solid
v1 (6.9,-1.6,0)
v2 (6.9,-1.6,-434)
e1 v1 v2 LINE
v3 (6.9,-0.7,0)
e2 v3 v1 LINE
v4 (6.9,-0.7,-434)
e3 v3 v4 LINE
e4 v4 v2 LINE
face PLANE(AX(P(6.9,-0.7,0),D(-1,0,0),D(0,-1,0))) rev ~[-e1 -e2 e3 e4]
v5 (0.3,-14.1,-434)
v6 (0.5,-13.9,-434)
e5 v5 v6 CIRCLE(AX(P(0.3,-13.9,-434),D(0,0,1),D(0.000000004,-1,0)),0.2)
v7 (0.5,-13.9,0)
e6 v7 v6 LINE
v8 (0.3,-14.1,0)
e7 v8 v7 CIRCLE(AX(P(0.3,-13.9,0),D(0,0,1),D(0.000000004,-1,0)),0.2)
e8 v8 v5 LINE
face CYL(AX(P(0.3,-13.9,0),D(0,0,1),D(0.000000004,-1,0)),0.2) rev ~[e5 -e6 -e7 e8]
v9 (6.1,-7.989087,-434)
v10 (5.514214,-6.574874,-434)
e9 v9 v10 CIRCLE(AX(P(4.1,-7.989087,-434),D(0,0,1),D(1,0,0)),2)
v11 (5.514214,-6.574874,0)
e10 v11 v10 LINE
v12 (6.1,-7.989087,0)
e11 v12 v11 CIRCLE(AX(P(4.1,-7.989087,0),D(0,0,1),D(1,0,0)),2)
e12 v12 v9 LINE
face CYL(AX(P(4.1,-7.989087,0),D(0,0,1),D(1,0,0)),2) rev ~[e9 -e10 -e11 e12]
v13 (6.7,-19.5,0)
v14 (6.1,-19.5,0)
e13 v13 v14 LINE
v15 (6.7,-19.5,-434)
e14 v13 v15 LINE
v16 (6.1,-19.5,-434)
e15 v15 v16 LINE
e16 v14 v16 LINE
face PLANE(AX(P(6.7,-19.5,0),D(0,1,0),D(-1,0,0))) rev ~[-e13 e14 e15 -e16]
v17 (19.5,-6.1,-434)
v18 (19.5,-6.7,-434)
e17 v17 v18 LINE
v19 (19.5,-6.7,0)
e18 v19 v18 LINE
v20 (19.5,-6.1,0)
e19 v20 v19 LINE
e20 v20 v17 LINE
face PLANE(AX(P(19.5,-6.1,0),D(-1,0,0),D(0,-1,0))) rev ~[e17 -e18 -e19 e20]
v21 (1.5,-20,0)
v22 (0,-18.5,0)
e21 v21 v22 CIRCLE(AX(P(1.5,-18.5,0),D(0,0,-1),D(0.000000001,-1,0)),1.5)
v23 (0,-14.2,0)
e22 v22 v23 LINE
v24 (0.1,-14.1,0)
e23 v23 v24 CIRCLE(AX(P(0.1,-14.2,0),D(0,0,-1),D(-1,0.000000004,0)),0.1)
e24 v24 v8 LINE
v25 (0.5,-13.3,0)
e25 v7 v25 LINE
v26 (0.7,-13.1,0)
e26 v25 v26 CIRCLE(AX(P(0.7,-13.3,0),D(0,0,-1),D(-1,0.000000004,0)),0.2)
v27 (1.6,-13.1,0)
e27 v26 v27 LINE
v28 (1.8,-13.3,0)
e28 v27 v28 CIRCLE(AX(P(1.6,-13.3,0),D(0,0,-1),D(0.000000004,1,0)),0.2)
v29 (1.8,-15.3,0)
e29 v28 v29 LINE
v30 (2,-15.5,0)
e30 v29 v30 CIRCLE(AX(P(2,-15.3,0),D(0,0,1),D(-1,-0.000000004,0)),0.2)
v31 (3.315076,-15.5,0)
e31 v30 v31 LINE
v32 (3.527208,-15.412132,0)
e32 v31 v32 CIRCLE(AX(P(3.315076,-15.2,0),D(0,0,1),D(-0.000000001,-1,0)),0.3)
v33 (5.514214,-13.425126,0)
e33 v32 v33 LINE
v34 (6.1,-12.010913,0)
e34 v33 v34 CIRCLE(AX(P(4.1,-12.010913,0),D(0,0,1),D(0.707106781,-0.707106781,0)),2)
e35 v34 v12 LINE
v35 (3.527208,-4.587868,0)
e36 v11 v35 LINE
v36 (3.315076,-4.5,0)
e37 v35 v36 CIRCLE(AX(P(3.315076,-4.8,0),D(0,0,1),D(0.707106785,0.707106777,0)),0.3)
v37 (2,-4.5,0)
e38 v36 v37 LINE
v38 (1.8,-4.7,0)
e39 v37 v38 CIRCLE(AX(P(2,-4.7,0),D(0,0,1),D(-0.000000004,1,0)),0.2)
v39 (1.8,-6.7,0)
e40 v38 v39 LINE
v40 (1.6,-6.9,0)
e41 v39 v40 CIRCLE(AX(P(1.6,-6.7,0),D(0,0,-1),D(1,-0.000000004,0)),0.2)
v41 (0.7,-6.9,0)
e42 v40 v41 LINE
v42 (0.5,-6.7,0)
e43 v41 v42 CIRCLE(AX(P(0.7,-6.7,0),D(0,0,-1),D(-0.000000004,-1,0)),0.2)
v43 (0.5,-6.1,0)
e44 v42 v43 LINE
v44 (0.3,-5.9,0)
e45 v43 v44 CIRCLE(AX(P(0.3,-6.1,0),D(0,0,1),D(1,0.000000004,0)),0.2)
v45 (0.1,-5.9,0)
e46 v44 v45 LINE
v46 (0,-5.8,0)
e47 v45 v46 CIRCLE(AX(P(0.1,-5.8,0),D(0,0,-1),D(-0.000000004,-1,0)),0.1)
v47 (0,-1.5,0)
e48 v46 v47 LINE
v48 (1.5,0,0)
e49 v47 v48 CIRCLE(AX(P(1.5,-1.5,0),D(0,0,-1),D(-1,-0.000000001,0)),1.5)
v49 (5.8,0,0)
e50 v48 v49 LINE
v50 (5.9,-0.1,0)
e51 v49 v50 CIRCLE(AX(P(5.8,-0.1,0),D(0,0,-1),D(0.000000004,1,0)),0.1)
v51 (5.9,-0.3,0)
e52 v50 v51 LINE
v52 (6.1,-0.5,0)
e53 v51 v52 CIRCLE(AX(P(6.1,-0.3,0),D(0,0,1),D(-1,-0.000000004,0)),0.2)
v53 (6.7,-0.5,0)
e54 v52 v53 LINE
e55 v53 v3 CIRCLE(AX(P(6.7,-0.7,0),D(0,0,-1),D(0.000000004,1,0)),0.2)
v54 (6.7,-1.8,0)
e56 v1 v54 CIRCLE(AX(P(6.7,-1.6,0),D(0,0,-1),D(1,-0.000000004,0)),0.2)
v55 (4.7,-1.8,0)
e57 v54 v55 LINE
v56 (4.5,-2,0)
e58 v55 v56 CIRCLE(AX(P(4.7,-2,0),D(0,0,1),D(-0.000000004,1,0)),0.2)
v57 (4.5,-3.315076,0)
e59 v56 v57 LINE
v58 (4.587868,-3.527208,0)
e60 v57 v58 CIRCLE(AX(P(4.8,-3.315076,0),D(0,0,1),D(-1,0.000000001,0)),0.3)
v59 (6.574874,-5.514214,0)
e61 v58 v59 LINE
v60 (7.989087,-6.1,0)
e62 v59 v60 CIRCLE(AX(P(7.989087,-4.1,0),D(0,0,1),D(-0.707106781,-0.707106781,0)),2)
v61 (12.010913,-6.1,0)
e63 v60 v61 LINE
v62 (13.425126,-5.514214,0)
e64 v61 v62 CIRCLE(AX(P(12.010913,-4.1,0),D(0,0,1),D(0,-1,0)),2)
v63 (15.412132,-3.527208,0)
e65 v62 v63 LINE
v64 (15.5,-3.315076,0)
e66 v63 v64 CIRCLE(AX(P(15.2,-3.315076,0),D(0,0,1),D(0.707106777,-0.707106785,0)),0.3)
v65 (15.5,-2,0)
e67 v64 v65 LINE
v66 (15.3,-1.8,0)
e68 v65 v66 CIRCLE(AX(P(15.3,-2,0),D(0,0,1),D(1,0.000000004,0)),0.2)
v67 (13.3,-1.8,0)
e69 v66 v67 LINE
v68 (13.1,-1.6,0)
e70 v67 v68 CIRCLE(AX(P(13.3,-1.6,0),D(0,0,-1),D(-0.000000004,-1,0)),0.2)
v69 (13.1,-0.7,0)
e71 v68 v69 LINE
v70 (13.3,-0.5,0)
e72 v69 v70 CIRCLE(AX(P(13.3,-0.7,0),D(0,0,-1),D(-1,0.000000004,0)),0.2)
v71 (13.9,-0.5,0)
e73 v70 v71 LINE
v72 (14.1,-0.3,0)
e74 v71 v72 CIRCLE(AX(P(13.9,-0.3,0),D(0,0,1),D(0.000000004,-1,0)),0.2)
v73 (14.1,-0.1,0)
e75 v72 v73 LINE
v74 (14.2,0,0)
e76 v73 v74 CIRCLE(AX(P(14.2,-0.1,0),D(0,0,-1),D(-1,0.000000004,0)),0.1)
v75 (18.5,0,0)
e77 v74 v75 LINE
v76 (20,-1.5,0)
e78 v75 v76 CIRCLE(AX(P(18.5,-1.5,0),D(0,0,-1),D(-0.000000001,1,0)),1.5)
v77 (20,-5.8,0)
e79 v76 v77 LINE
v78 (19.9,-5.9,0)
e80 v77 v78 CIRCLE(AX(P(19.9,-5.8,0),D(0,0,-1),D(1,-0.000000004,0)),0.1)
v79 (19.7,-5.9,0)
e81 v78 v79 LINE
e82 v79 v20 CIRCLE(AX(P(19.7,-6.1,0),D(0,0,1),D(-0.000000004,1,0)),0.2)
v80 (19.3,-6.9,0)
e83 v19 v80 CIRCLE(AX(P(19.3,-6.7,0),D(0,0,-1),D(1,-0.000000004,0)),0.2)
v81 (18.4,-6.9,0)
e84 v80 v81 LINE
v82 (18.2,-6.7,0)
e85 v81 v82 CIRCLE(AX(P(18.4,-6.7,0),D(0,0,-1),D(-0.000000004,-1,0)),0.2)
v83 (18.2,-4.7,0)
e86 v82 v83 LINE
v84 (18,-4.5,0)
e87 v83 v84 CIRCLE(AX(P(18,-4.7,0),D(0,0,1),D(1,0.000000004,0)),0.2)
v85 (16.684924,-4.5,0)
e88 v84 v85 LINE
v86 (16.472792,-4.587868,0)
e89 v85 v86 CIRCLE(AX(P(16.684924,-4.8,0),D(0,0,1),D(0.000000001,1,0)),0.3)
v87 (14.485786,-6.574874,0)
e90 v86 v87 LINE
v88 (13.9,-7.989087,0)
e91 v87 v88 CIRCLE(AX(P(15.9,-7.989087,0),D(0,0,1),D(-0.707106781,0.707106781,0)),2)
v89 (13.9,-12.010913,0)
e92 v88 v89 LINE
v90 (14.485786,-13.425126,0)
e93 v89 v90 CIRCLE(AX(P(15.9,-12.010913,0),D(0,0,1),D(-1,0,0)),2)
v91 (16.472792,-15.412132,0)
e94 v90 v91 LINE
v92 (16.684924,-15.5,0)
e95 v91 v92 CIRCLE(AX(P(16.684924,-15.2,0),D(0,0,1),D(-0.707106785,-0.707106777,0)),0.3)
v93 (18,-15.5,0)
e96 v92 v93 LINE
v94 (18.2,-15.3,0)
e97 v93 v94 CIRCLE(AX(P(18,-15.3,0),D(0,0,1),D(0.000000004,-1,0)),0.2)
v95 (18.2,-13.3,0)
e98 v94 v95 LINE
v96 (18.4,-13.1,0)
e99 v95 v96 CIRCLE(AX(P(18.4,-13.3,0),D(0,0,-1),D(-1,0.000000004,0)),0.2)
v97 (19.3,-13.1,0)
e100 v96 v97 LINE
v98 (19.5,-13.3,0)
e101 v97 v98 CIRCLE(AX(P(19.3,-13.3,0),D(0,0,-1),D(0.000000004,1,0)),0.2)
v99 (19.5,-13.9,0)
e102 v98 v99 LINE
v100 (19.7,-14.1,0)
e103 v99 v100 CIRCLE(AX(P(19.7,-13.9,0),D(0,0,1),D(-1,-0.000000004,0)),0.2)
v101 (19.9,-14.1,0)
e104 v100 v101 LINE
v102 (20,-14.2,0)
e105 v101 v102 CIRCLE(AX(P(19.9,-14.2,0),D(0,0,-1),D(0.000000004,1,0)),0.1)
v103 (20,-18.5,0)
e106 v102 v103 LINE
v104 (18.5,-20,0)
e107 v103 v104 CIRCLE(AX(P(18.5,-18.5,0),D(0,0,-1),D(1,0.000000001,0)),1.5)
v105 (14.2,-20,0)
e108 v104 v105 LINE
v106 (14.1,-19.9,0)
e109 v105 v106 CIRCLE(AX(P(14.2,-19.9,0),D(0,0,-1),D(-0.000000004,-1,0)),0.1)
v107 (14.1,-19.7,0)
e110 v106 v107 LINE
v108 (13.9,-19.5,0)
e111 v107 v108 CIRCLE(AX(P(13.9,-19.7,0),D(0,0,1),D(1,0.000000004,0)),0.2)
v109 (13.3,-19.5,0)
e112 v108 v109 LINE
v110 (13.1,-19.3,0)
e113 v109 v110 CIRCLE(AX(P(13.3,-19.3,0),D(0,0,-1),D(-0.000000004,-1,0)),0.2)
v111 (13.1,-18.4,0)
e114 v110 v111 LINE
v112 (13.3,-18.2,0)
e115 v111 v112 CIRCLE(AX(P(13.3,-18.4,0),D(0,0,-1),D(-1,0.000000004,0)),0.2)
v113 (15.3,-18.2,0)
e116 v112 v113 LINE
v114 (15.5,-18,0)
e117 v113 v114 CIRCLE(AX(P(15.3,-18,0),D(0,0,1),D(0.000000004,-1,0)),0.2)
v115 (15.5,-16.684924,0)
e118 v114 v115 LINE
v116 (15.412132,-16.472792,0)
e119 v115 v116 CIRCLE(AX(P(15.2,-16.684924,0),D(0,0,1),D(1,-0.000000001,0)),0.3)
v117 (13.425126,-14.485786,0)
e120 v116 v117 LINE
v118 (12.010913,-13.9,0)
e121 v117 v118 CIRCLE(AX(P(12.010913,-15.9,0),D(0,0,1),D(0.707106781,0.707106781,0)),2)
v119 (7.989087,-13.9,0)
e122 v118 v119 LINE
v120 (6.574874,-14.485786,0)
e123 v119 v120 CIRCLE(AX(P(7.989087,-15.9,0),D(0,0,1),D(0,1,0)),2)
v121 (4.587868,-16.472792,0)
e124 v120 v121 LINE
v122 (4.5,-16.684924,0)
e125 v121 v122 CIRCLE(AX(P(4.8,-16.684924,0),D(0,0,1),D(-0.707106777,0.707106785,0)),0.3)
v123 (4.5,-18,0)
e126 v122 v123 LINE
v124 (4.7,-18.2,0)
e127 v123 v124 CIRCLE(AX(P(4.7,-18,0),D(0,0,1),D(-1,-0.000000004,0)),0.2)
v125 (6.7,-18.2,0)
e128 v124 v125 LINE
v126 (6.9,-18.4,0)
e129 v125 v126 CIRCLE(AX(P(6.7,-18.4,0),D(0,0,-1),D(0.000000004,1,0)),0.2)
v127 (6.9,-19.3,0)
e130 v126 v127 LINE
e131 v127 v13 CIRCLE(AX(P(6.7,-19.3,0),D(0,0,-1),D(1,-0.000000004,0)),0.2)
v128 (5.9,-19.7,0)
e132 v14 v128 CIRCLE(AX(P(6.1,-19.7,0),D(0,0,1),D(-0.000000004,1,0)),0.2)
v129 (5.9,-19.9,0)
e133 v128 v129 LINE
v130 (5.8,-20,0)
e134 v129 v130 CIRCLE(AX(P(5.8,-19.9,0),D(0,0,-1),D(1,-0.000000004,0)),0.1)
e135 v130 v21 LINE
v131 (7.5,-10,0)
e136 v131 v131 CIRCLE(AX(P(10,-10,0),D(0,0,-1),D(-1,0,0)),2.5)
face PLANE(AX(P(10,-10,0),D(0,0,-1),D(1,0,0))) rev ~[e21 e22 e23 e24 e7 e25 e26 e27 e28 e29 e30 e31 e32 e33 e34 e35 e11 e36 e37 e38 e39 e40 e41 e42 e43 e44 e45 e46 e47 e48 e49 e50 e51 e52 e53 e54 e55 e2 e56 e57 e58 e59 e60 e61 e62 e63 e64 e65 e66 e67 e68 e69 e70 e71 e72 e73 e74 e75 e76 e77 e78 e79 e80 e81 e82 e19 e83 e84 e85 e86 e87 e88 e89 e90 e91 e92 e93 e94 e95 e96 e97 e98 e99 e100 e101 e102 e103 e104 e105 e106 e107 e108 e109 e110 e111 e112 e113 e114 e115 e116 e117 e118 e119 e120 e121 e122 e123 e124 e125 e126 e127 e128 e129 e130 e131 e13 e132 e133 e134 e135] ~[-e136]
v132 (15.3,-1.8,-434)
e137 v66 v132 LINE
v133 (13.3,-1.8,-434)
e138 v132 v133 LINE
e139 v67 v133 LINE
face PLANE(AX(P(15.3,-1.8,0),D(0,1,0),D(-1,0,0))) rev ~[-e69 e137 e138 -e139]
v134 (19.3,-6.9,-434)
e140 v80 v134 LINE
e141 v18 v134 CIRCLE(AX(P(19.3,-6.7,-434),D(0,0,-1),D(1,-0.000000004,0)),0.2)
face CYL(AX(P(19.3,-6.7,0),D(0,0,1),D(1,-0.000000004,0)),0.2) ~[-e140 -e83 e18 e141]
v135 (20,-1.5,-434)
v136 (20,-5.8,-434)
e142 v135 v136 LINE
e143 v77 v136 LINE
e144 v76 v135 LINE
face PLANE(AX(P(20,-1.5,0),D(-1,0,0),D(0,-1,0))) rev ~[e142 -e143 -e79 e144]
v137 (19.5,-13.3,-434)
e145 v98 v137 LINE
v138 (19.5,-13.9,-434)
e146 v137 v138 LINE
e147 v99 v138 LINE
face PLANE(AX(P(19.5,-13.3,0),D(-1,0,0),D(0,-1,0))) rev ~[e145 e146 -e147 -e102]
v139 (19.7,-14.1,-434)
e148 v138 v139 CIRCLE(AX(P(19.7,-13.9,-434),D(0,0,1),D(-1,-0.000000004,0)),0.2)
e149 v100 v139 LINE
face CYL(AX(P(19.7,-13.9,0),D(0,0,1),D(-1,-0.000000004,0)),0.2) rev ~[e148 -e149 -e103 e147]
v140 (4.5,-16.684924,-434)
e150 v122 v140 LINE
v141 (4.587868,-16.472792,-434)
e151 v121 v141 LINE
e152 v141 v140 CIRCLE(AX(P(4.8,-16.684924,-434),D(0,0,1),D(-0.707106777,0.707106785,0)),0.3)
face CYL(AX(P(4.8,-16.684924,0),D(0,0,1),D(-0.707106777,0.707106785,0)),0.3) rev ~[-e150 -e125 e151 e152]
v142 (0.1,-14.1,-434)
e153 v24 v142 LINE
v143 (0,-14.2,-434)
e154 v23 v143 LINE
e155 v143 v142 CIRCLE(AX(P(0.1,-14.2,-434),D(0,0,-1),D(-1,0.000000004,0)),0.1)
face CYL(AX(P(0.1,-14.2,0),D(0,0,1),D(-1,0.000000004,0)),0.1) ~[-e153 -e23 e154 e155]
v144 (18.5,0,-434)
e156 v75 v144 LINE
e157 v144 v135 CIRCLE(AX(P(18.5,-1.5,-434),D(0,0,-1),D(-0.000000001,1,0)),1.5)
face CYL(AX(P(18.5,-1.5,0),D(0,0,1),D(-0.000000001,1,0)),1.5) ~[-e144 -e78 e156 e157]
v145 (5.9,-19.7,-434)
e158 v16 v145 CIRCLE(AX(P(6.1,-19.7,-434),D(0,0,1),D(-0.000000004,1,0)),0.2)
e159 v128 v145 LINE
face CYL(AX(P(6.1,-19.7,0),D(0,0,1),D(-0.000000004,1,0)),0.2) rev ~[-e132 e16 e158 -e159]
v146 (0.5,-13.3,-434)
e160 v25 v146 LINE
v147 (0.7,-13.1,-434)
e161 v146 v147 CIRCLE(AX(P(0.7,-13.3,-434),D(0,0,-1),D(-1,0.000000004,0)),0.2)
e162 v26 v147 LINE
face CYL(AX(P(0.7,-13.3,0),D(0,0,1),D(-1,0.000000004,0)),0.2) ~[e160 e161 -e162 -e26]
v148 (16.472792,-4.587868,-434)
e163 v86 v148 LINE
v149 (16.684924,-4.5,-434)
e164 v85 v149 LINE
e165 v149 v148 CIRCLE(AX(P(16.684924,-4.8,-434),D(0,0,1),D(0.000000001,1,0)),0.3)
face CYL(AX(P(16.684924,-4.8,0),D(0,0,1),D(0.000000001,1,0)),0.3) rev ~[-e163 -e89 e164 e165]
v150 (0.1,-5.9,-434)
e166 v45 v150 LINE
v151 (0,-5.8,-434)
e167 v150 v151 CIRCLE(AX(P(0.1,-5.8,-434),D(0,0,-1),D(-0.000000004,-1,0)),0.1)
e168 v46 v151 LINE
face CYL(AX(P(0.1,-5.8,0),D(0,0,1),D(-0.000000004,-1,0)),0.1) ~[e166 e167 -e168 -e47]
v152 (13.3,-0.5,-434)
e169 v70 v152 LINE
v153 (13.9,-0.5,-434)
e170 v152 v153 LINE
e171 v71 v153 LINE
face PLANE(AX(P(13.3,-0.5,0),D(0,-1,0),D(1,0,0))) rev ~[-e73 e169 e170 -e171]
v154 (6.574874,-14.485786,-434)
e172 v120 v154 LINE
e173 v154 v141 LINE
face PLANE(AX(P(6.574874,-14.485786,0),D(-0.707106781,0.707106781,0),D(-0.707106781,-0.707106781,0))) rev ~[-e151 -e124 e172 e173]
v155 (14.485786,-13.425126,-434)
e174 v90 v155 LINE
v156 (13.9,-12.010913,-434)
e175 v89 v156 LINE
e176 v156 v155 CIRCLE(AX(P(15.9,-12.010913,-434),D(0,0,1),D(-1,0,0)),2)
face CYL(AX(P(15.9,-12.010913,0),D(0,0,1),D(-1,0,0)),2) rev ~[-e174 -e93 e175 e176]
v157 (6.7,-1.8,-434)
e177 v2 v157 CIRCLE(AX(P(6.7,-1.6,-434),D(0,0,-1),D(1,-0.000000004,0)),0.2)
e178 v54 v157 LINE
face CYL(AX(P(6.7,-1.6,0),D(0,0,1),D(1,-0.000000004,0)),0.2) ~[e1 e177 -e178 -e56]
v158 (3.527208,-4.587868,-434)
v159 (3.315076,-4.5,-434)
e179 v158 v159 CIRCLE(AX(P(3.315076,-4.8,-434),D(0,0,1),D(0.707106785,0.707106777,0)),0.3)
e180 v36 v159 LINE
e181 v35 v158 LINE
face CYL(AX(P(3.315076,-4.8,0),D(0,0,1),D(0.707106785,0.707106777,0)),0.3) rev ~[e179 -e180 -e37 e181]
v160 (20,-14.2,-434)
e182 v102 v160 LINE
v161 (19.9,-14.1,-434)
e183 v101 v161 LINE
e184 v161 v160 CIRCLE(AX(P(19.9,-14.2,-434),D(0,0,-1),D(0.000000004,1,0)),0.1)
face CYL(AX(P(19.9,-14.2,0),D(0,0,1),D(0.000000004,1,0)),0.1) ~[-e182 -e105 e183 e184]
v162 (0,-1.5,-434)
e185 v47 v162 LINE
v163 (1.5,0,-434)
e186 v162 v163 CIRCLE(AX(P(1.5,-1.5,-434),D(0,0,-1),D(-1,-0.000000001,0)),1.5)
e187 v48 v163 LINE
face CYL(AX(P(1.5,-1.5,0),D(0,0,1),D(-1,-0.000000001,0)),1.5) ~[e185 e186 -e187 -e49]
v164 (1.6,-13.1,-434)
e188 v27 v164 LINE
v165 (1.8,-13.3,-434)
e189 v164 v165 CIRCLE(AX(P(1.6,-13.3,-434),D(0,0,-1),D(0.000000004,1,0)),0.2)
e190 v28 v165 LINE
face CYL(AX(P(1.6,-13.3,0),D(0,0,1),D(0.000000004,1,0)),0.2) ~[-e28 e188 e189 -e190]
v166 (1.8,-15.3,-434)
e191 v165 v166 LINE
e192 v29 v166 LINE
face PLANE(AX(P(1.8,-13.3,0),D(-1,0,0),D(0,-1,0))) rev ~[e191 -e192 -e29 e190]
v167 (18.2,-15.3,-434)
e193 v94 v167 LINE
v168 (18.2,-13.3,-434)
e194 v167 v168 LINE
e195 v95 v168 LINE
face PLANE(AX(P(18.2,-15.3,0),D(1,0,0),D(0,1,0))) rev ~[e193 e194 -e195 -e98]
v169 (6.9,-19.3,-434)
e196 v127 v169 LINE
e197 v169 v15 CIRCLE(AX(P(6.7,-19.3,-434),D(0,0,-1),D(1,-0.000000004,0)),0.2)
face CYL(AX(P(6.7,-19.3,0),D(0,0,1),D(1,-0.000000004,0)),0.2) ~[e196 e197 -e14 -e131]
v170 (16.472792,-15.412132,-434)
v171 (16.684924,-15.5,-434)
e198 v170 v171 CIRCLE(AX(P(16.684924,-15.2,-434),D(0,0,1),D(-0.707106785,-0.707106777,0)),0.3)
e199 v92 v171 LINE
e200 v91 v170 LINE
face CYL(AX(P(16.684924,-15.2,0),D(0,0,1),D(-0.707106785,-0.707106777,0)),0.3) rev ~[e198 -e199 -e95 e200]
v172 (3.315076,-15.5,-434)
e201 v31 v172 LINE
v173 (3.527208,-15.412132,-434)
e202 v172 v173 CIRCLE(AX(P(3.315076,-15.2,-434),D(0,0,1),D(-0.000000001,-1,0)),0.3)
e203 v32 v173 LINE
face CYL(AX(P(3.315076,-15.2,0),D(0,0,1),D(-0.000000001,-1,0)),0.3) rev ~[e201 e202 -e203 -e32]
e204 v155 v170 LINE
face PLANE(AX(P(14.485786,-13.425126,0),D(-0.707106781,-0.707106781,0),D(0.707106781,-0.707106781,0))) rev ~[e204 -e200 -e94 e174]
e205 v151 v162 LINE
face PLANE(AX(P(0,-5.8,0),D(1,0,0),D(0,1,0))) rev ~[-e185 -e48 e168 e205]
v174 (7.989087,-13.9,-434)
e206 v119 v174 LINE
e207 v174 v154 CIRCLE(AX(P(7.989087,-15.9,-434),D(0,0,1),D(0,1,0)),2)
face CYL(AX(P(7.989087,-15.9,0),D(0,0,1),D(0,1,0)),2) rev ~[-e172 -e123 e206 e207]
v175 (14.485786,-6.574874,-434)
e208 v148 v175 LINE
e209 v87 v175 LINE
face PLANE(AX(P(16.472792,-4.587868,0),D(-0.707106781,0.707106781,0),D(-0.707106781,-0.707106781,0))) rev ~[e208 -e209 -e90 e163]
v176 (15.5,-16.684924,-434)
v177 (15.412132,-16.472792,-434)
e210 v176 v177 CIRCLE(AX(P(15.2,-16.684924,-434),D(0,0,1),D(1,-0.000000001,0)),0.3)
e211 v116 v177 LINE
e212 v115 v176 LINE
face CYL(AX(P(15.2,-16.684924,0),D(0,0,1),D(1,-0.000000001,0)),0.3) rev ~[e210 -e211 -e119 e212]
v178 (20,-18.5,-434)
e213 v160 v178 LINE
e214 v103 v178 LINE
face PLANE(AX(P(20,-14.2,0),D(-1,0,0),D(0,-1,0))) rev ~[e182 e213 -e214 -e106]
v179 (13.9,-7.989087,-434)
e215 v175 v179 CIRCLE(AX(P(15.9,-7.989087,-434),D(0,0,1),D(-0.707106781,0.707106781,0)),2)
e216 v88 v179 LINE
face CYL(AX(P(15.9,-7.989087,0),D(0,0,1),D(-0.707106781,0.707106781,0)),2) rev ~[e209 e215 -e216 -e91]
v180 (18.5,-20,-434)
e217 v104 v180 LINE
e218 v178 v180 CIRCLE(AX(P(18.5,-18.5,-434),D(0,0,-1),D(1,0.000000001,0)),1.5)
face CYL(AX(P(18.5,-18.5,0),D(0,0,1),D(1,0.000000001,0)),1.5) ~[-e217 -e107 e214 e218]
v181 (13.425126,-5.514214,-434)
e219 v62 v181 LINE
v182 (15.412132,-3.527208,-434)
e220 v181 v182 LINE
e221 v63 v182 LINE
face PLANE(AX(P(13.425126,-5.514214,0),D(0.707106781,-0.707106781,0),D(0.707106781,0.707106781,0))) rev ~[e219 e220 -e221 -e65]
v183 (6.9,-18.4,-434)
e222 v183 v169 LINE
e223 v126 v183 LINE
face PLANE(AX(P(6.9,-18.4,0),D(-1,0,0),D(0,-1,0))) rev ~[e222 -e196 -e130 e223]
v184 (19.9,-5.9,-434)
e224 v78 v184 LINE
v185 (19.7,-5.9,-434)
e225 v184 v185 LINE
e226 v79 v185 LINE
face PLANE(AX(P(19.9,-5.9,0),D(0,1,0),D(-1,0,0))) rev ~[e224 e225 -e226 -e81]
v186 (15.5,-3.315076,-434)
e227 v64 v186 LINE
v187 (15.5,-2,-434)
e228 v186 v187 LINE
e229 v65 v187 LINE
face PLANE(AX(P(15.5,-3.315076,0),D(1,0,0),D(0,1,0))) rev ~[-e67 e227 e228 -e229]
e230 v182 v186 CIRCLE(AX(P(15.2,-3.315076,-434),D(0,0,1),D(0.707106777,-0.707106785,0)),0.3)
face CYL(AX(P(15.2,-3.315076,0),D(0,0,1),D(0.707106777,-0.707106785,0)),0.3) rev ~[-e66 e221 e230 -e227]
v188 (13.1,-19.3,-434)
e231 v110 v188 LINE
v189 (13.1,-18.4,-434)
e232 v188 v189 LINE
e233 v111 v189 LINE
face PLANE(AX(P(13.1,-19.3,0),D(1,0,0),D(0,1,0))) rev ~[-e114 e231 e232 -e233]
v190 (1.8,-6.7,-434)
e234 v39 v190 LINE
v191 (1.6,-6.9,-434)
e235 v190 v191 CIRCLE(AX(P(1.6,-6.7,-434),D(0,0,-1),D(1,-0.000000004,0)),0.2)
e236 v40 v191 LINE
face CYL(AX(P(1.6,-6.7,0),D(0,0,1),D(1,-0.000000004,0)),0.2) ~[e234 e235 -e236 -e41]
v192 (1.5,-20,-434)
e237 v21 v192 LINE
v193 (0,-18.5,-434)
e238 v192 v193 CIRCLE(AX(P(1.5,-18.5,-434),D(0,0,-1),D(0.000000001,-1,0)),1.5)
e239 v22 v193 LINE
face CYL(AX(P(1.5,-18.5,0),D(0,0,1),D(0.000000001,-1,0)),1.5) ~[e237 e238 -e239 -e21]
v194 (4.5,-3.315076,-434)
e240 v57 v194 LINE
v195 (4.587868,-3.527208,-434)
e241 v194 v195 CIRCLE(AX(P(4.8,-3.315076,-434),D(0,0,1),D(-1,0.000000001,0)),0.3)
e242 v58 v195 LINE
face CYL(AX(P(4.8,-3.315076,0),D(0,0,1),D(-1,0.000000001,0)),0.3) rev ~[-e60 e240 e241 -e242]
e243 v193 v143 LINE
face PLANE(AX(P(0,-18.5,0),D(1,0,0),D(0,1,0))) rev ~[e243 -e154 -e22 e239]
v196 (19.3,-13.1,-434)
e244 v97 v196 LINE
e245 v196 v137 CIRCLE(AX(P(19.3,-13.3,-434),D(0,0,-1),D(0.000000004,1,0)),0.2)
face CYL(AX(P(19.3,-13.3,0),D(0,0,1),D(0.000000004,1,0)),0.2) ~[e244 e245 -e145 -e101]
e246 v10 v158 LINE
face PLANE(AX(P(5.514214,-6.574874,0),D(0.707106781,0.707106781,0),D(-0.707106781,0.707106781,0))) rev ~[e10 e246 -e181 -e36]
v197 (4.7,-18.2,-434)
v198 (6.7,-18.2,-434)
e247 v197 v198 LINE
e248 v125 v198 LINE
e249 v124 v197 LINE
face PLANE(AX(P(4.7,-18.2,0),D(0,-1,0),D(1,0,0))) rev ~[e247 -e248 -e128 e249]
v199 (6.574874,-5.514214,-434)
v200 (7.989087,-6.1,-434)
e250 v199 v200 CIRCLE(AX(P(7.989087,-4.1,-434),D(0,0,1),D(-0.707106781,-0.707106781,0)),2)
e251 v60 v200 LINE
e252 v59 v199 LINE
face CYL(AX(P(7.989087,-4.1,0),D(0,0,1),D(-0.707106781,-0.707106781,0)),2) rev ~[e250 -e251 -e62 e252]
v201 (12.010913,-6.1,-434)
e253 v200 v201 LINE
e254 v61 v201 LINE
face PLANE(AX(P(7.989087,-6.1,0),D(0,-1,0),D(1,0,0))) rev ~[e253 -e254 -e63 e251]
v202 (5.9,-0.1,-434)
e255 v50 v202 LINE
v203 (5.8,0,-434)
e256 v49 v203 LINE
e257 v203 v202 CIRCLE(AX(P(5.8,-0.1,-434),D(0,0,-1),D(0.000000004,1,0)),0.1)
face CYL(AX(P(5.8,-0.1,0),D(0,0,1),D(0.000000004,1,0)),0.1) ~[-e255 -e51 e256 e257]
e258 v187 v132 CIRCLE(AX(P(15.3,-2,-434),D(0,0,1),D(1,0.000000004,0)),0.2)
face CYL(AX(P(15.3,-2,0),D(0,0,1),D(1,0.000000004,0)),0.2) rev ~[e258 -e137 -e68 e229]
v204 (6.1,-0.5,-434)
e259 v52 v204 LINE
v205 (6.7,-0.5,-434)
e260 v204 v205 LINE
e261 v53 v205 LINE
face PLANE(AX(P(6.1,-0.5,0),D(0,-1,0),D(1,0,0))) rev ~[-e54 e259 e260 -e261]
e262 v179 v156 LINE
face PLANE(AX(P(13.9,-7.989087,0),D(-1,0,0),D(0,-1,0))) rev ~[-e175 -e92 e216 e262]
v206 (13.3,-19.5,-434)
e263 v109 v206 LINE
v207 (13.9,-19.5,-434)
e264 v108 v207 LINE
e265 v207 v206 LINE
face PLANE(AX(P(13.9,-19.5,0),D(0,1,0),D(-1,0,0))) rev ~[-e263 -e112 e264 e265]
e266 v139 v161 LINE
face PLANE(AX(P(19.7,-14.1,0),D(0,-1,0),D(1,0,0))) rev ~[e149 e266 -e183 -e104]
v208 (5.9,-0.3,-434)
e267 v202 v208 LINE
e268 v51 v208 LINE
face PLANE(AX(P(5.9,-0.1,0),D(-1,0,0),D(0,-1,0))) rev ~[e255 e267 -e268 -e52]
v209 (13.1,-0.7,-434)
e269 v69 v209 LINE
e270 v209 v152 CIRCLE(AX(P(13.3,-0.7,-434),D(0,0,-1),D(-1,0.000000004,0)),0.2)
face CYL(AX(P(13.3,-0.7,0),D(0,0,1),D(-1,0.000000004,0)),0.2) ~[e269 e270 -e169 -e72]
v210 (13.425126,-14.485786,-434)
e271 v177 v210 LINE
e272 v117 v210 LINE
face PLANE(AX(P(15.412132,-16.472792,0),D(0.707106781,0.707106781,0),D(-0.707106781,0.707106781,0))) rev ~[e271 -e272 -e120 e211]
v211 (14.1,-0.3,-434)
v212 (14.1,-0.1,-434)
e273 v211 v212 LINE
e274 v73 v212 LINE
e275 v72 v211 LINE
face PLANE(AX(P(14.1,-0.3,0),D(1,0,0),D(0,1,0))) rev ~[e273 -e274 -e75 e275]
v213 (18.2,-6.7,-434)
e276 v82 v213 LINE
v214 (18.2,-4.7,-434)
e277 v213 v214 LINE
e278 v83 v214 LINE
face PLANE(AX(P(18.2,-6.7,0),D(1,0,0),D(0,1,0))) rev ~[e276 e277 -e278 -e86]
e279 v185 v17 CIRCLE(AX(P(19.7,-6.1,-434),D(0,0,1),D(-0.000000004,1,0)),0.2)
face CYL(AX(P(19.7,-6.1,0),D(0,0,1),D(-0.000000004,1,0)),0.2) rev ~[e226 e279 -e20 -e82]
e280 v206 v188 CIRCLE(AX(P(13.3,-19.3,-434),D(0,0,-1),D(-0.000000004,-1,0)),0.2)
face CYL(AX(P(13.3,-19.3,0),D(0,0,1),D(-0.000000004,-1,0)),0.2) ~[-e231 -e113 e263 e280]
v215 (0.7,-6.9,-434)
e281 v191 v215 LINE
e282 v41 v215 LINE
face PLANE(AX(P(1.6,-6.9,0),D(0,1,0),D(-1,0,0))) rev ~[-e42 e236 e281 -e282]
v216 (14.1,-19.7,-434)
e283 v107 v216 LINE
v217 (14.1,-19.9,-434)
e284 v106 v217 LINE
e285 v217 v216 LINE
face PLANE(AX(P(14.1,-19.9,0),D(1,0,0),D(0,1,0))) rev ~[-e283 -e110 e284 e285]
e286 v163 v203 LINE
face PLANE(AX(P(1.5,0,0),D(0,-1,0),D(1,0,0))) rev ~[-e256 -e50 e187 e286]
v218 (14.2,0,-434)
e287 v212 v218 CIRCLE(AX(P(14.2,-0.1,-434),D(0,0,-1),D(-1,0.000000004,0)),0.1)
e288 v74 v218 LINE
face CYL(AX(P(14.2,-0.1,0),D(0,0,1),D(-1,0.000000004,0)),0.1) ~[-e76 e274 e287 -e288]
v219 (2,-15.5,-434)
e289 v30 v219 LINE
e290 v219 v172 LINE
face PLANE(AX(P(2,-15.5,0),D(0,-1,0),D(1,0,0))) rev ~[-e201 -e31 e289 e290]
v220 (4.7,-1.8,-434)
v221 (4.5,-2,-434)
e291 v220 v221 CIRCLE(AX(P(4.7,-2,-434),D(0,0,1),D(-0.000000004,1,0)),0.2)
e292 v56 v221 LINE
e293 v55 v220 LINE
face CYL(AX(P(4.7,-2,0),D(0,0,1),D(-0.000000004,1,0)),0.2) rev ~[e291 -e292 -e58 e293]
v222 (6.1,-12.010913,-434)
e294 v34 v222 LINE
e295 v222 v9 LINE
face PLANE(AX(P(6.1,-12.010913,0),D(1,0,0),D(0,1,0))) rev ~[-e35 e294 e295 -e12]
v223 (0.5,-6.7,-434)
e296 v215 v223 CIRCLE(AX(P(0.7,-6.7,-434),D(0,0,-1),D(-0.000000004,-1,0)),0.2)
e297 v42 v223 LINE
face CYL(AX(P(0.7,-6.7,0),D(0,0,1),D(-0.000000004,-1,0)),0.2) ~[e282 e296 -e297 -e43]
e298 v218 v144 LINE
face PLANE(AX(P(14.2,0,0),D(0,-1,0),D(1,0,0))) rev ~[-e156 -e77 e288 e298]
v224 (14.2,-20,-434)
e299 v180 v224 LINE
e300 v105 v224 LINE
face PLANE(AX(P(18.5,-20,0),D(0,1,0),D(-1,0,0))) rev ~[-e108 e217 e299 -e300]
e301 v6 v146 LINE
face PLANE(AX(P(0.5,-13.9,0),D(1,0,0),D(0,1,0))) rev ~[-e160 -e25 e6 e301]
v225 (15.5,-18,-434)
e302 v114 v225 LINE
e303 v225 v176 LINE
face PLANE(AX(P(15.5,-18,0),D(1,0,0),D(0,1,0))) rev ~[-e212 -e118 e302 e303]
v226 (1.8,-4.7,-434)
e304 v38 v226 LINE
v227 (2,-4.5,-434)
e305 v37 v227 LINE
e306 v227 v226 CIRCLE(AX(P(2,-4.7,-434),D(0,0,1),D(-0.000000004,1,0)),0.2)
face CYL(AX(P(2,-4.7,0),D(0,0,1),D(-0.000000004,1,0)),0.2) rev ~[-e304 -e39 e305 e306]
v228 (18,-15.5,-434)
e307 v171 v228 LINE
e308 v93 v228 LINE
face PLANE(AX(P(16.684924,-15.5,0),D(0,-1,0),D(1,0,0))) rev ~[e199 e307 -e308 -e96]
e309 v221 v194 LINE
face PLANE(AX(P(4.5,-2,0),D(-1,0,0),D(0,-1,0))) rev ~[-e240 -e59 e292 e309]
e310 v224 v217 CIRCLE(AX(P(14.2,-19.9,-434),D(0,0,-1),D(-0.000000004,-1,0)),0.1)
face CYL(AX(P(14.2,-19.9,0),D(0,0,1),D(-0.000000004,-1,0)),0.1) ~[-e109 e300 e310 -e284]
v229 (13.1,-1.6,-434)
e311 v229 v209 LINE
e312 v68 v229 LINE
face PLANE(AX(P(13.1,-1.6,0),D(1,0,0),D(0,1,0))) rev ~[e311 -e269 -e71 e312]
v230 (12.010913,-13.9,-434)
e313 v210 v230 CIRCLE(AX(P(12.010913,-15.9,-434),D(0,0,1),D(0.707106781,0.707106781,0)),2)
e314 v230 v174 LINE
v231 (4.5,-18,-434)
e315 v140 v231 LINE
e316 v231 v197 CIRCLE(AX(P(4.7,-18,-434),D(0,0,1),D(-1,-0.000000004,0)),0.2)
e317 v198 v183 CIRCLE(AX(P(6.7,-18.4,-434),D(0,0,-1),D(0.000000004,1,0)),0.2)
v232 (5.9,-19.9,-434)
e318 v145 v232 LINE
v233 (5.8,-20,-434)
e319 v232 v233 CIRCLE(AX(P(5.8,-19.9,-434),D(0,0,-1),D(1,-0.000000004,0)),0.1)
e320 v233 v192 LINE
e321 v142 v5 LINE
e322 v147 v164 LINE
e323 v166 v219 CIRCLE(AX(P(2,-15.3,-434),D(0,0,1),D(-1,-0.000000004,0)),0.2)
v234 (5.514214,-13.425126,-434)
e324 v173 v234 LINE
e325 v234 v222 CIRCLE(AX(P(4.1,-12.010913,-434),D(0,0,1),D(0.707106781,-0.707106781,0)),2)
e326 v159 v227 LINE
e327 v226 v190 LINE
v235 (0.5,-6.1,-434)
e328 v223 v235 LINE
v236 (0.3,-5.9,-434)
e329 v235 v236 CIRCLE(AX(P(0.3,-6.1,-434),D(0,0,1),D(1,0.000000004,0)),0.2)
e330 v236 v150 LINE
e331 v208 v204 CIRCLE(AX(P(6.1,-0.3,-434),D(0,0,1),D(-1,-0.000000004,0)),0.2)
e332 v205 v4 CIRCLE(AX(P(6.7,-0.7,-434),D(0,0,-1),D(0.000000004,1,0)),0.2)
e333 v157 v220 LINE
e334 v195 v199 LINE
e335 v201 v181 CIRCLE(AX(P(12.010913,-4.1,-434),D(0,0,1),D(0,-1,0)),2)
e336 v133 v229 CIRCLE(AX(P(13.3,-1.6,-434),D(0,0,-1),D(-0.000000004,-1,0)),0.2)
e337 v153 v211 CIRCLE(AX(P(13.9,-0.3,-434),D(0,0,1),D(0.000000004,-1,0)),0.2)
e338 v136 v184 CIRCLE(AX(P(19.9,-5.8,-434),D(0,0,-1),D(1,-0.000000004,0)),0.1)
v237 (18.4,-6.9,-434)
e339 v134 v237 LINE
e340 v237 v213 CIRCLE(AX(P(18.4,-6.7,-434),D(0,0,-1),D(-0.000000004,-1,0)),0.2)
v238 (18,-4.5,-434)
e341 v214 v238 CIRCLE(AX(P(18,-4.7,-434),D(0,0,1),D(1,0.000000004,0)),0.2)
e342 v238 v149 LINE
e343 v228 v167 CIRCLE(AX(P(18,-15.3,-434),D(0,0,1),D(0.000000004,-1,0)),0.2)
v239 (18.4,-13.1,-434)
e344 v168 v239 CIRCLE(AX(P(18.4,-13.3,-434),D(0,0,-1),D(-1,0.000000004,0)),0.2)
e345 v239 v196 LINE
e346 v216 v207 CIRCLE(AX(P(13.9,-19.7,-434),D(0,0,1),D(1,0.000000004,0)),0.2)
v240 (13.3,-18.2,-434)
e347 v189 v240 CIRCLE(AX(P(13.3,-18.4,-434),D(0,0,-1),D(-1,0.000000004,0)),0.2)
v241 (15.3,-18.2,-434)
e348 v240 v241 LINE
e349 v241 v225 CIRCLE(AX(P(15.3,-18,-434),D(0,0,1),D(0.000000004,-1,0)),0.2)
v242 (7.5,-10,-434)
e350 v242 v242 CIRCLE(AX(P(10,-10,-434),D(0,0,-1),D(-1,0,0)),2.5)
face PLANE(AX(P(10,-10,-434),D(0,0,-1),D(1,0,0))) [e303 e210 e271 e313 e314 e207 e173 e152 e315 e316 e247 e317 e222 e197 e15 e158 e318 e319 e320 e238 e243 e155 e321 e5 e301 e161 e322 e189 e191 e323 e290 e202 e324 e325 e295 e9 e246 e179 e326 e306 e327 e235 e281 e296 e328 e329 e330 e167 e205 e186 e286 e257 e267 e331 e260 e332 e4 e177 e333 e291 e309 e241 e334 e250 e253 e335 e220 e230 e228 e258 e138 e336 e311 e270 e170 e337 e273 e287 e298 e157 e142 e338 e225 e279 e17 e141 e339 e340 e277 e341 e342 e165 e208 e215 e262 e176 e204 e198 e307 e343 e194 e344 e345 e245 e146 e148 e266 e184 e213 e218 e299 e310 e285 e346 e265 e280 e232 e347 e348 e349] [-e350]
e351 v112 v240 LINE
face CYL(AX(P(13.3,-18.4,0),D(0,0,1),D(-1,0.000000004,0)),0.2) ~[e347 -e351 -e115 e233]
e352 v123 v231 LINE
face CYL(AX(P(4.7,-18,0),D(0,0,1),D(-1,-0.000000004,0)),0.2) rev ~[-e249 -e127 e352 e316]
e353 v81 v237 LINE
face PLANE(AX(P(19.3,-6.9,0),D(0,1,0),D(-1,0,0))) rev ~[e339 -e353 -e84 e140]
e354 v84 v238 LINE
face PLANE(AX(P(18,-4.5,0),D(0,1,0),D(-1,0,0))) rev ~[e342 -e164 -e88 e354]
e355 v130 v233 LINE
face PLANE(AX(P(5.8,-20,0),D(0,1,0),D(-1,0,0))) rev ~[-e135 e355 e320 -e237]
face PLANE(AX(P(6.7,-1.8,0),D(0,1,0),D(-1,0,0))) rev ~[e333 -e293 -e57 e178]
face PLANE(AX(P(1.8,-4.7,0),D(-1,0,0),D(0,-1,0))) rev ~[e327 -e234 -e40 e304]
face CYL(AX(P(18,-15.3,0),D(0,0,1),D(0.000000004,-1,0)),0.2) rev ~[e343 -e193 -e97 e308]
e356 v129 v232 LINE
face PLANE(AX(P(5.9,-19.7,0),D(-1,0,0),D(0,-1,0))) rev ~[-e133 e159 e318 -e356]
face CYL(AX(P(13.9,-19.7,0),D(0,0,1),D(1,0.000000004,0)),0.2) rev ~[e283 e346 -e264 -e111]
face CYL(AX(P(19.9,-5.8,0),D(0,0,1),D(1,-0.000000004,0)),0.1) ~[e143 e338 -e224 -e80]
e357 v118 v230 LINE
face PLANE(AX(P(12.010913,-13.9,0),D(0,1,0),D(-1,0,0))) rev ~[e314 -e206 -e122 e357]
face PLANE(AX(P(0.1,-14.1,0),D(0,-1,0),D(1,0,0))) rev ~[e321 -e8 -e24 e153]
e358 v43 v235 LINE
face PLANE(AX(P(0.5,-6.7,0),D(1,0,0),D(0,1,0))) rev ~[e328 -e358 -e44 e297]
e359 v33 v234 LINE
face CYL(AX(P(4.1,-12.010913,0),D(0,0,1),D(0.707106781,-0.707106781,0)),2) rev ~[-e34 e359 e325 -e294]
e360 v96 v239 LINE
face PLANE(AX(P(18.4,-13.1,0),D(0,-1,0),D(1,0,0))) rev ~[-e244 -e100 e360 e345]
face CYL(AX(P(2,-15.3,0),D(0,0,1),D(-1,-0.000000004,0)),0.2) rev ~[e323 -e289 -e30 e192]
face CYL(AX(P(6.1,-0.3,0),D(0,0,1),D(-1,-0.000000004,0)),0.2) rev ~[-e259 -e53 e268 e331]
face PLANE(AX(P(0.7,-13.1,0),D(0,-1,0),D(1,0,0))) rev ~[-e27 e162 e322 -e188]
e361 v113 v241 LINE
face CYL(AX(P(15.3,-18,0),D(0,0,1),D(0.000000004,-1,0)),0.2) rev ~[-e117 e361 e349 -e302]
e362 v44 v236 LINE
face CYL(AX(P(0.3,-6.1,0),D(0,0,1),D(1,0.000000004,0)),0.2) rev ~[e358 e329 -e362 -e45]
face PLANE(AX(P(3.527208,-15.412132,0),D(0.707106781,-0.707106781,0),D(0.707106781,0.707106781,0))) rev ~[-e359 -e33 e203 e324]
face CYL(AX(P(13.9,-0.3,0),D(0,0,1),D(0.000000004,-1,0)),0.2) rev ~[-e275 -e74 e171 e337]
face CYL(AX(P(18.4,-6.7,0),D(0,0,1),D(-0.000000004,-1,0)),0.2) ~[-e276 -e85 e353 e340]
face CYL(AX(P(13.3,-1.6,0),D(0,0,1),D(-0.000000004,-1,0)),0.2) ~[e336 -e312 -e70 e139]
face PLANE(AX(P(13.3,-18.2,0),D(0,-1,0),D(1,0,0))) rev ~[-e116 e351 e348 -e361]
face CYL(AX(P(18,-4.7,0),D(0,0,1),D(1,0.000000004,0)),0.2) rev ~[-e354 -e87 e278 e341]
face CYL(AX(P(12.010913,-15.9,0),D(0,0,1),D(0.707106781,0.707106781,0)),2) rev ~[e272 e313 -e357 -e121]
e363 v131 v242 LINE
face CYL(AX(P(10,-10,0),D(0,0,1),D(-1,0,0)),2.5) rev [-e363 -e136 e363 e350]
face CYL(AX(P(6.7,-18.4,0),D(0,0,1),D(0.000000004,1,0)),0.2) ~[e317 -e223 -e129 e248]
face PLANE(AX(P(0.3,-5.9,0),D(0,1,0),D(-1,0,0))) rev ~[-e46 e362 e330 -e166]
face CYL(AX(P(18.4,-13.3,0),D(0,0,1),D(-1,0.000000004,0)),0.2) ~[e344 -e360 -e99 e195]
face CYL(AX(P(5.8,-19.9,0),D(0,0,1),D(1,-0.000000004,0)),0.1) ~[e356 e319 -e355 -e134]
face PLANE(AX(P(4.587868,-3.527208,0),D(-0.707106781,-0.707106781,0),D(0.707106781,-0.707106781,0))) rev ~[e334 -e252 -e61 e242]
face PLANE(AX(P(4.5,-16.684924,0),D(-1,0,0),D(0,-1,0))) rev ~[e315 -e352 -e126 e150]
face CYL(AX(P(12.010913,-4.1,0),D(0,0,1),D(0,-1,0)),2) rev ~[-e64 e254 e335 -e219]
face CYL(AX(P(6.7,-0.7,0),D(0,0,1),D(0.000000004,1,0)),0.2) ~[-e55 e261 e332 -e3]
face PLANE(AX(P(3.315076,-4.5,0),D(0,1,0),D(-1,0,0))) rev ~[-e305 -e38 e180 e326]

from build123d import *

# Parameters (mm, degrees)
SKETCH1_R           = 2.5
BOSS_EXTRUDE1_DEPTH = 434


with BuildPart() as part:
    # Sketch1 → Boss-Extrude1 (new body)
    with BuildSketch(Plane(origin=(0, 0, 0), x_dir=(1, 0, 0), z_dir=(0, 0, -1))):
        with BuildLine():
            Line((1.5, 0), (5.8, 0))
            ThreePointArc((5.8, 0), (5.870710678, 0.029289322), (5.9, 0.1))
            Line((5.9, 0.1), (5.9, 0.3))
            ThreePointArc((5.9, 0.3), (5.958578644, 0.441421356), (6.1, 0.5))
            Line((6.1, 0.5), (6.7, 0.5))
            ThreePointArc((6.7, 0.5), (6.841421356, 0.558578644), (6.9, 0.7))
            Line((6.9, 0.7), (6.9, 1.6))
            ThreePointArc((6.9, 1.6), (6.841421356, 1.741421356), (6.7, 1.8))
            Line((6.7, 1.8), (4.7, 1.8))
            ThreePointArc((4.7, 1.8), (4.558578644, 1.858578644), (4.5, 2))
            Line((4.5, 2), (4.5, 3.31507576))
            ThreePointArc((4.5, 3.31507576), (4.52283614, 3.429880789), (4.587867966, 3.527207794))
            Line((4.587867966, 3.527207794), (6.574873734, 5.514213562))
            ThreePointArc((6.574873734, 5.514213562), (7.223720432, 5.947759065), (7.989087297, 6.1))
            Line((7.989087297, 6.1), (12.010912703, 6.1))
            ThreePointArc((12.010912703, 6.1), (12.776279568, 5.947759065), (13.425126266, 5.514213562))
            Line((13.425126266, 5.514213562), (15.412132034, 3.527207794))
            ThreePointArc((15.412132034, 3.527207794), (15.47716386, 3.429880789), (15.5, 3.31507576))
            Line((15.5, 3.31507576), (15.5, 2))
            ThreePointArc((15.5, 2), (15.441421356, 1.858578644), (15.3, 1.8))
            Line((15.3, 1.8), (13.3, 1.8))
            ThreePointArc((13.3, 1.8), (13.158578644, 1.741421356), (13.1, 1.6))
            Line((13.1, 1.6), (13.1, 0.7))
            ThreePointArc((13.1, 0.7), (13.158578644, 0.558578644), (13.3, 0.5))
            Line((13.3, 0.5), (13.9, 0.5))
            ThreePointArc((13.9, 0.5), (14.041421356, 0.441421356), (14.1, 0.3))
            Line((14.1, 0.3), (14.1, 0.1))
            ThreePointArc((14.1, 0.1), (14.129289322, 0.029289322), (14.2, 0))
            Line((14.2, 0), (18.5, 0))
            ThreePointArc((18.5, 0), (19.560660172, 0.439339828), (20, 1.5))
            Line((20, 1.5), (20, 5.8))
            ThreePointArc((20, 5.8), (19.970710678, 5.870710678), (19.9, 5.9))
            Line((19.9, 5.9), (19.7, 5.9))
            ThreePointArc((19.7, 5.9), (19.558578644, 5.958578644), (19.5, 6.1))
            Line((19.5, 6.1), (19.5, 6.7))
            ThreePointArc((19.5, 6.7), (19.441421356, 6.841421356), (19.3, 6.9))
            Line((19.3, 6.9), (18.4, 6.9))
            ThreePointArc((18.4, 6.9), (18.258578644, 6.841421356), (18.2, 6.7))
            Line((18.2, 6.7), (18.2, 4.7))
            ThreePointArc((18.2, 4.7), (18.141421356, 4.558578644), (18, 4.5))
            Line((18, 4.5), (16.68492424, 4.5))
            ThreePointArc((16.68492424, 4.5), (16.570119211, 4.52283614), (16.472792206, 4.587867966))
            Line((16.472792206, 4.587867966), (14.485786438, 6.574873734))
            ThreePointArc((14.485786438, 6.574873734), (14.052240935, 7.223720432), (13.9, 7.989087297))
            Line((13.9, 7.989087297), (13.9, 12.010912703))
            ThreePointArc((13.9, 12.010912703), (14.052240935, 12.776279568), (14.485786438, 13.425126266))
            Line((14.485786438, 13.425126266), (16.472792206, 15.412132034))
            ThreePointArc((16.472792206, 15.412132034), (16.570119211, 15.47716386), (16.68492424, 15.5))
            Line((16.68492424, 15.5), (18, 15.5))
            ThreePointArc((18, 15.5), (18.141421356, 15.441421356), (18.2, 15.3))
            Line((18.2, 15.3), (18.2, 13.3))
            ThreePointArc((18.2, 13.3), (18.258578644, 13.158578644), (18.4, 13.1))
            Line((18.4, 13.1), (19.3, 13.1))
            ThreePointArc((19.3, 13.1), (19.441421356, 13.158578644), (19.5, 13.3))
            Line((19.5, 13.3), (19.5, 13.9))
            ThreePointArc((19.5, 13.9), (19.558578644, 14.041421356), (19.7, 14.1))
            Line((19.7, 14.1), (19.9, 14.1))
            ThreePointArc((19.9, 14.1), (19.970710678, 14.129289322), (20, 14.2))
            Line((20, 14.2), (20, 18.5))
            ThreePointArc((20, 18.5), (19.560660172, 19.560660172), (18.5, 20))
            Line((18.5, 20), (14.2, 20))
            ThreePointArc((14.2, 20), (14.129289322, 19.970710678), (14.1, 19.9))
            Line((14.1, 19.9), (14.1, 19.7))
            ThreePointArc((14.1, 19.7), (14.041421356, 19.558578644), (13.9, 19.5))
            Line((13.9, 19.5), (13.3, 19.5))
            ThreePointArc((13.3, 19.5), (13.158578644, 19.441421356), (13.1, 19.3))
            Line((13.1, 19.3), (13.1, 18.4))
            ThreePointArc((13.1, 18.4), (13.158578644, 18.258578644), (13.3, 18.2))
            Line((13.3, 18.2), (15.3, 18.2))
            ThreePointArc((15.3, 18.2), (15.441421356, 18.141421356), (15.5, 18))
            Line((15.5, 18), (15.5, 16.68492424))
            ThreePointArc((15.5, 16.68492424), (15.47716386, 16.570119211), (15.412132034, 16.472792206))
            Line((15.412132034, 16.472792206), (13.425126266, 14.485786438))
            ThreePointArc((13.425126266, 14.485786438), (12.776279568, 14.052240935), (12.010912703, 13.9))
            Line((12.010912703, 13.9), (7.989087297, 13.9))
            ThreePointArc((7.989087297, 13.9), (7.223720432, 14.052240935), (6.574873734, 14.485786438))
            Line((6.574873734, 14.485786438), (4.587867966, 16.472792206))
            ThreePointArc((4.587867966, 16.472792206), (4.52283614, 16.570119211), (4.5, 16.68492424))
            Line((4.5, 16.68492424), (4.5, 18))
            ThreePointArc((4.5, 18), (4.558578644, 18.141421356), (4.7, 18.2))
            Line((4.7, 18.2), (6.7, 18.2))
            ThreePointArc((6.7, 18.2), (6.841421356, 18.258578644), (6.9, 18.4))
            Line((6.9, 18.4), (6.9, 19.3))
            ThreePointArc((6.9, 19.3), (6.841421356, 19.441421356), (6.7, 19.5))
            Line((6.7, 19.5), (6.1, 19.5))
            ThreePointArc((6.1, 19.5), (5.958578644, 19.558578644), (5.9, 19.7))
            Line((5.9, 19.7), (5.9, 19.9))
            ThreePointArc((5.9, 19.9), (5.870710678, 19.970710678), (5.8, 20))
            Line((5.8, 20), (1.5, 20))
            ThreePointArc((1.5, 20), (0.439339828, 19.560660172), (0, 18.5))
            Line((0, 18.5), (0, 14.2))
            ThreePointArc((0, 14.2), (0.029289322, 14.129289322), (0.1, 14.1))
            Line((0.1, 14.1), (0.3, 14.1))
            ThreePointArc((0.3, 14.1), (0.441421356, 14.041421356), (0.5, 13.9))
            Line((0.5, 13.9), (0.5, 13.3))
            ThreePointArc((0.5, 13.3), (0.558578644, 13.158578644), (0.7, 13.1))
            Line((0.7, 13.1), (1.6, 13.1))
            ThreePointArc((1.6, 13.1), (1.741421356, 13.158578644), (1.8, 13.3))
            Line((1.8, 13.3), (1.8, 15.3))
            ThreePointArc((1.8, 15.3), (1.858578644, 15.441421356), (2, 15.5))
            Line((2, 15.5), (3.31507576, 15.5))
            ThreePointArc((3.31507576, 15.5), (3.429880789, 15.47716386), (3.527207794, 15.412132034))
            Line((3.527207794, 15.412132034), (5.514213562, 13.425126266))
            ThreePointArc((5.514213562, 13.425126266), (5.947759065, 12.776279568), (6.1, 12.010912703))
            Line((6.1, 12.010912703), (6.1, 7.989087297))
            ThreePointArc((6.1, 7.989087297), (5.947759065, 7.223720432), (5.514213562, 6.574873734))
            Line((5.514213562, 6.574873734), (3.527207794, 4.587867966))
            ThreePointArc((3.527207794, 4.587867966), (3.429880789, 4.52283614), (3.31507576, 4.5))
            Line((3.31507576, 4.5), (2, 4.5))
            ThreePointArc((2, 4.5), (1.858578644, 4.558578644), (1.8, 4.7))
            Line((1.8, 4.7), (1.8, 6.7))
            ThreePointArc((1.8, 6.7), (1.741421356, 6.841421356), (1.6, 6.9))
            Line((1.6, 6.9), (0.7, 6.9))
            ThreePointArc((0.7, 6.9), (0.558578644, 6.841421356), (0.5, 6.7))
            Line((0.5, 6.7), (0.5, 6.1))
            ThreePointArc((0.5, 6.1), (0.441421356, 5.958578644), (0.3, 5.9))
            Line((0.3, 5.9), (0.1, 5.9))
            ThreePointArc((0.1, 5.9), (0.029289322, 5.870710678), (0, 5.8))
            Line((0, 5.8), (0, 1.5))
            ThreePointArc((0, 1.5), (0.439339828, 0.439339828), (1.5, 0))
        make_face()
        with Locations(Location((10, 10, 0), (0, 0, 180))):
            Circle(SKETCH1_R, mode=Mode.SUBTRACT)
    extrude(amount=BOSS_EXTRUDE1_DEPTH)


solid = part.part
